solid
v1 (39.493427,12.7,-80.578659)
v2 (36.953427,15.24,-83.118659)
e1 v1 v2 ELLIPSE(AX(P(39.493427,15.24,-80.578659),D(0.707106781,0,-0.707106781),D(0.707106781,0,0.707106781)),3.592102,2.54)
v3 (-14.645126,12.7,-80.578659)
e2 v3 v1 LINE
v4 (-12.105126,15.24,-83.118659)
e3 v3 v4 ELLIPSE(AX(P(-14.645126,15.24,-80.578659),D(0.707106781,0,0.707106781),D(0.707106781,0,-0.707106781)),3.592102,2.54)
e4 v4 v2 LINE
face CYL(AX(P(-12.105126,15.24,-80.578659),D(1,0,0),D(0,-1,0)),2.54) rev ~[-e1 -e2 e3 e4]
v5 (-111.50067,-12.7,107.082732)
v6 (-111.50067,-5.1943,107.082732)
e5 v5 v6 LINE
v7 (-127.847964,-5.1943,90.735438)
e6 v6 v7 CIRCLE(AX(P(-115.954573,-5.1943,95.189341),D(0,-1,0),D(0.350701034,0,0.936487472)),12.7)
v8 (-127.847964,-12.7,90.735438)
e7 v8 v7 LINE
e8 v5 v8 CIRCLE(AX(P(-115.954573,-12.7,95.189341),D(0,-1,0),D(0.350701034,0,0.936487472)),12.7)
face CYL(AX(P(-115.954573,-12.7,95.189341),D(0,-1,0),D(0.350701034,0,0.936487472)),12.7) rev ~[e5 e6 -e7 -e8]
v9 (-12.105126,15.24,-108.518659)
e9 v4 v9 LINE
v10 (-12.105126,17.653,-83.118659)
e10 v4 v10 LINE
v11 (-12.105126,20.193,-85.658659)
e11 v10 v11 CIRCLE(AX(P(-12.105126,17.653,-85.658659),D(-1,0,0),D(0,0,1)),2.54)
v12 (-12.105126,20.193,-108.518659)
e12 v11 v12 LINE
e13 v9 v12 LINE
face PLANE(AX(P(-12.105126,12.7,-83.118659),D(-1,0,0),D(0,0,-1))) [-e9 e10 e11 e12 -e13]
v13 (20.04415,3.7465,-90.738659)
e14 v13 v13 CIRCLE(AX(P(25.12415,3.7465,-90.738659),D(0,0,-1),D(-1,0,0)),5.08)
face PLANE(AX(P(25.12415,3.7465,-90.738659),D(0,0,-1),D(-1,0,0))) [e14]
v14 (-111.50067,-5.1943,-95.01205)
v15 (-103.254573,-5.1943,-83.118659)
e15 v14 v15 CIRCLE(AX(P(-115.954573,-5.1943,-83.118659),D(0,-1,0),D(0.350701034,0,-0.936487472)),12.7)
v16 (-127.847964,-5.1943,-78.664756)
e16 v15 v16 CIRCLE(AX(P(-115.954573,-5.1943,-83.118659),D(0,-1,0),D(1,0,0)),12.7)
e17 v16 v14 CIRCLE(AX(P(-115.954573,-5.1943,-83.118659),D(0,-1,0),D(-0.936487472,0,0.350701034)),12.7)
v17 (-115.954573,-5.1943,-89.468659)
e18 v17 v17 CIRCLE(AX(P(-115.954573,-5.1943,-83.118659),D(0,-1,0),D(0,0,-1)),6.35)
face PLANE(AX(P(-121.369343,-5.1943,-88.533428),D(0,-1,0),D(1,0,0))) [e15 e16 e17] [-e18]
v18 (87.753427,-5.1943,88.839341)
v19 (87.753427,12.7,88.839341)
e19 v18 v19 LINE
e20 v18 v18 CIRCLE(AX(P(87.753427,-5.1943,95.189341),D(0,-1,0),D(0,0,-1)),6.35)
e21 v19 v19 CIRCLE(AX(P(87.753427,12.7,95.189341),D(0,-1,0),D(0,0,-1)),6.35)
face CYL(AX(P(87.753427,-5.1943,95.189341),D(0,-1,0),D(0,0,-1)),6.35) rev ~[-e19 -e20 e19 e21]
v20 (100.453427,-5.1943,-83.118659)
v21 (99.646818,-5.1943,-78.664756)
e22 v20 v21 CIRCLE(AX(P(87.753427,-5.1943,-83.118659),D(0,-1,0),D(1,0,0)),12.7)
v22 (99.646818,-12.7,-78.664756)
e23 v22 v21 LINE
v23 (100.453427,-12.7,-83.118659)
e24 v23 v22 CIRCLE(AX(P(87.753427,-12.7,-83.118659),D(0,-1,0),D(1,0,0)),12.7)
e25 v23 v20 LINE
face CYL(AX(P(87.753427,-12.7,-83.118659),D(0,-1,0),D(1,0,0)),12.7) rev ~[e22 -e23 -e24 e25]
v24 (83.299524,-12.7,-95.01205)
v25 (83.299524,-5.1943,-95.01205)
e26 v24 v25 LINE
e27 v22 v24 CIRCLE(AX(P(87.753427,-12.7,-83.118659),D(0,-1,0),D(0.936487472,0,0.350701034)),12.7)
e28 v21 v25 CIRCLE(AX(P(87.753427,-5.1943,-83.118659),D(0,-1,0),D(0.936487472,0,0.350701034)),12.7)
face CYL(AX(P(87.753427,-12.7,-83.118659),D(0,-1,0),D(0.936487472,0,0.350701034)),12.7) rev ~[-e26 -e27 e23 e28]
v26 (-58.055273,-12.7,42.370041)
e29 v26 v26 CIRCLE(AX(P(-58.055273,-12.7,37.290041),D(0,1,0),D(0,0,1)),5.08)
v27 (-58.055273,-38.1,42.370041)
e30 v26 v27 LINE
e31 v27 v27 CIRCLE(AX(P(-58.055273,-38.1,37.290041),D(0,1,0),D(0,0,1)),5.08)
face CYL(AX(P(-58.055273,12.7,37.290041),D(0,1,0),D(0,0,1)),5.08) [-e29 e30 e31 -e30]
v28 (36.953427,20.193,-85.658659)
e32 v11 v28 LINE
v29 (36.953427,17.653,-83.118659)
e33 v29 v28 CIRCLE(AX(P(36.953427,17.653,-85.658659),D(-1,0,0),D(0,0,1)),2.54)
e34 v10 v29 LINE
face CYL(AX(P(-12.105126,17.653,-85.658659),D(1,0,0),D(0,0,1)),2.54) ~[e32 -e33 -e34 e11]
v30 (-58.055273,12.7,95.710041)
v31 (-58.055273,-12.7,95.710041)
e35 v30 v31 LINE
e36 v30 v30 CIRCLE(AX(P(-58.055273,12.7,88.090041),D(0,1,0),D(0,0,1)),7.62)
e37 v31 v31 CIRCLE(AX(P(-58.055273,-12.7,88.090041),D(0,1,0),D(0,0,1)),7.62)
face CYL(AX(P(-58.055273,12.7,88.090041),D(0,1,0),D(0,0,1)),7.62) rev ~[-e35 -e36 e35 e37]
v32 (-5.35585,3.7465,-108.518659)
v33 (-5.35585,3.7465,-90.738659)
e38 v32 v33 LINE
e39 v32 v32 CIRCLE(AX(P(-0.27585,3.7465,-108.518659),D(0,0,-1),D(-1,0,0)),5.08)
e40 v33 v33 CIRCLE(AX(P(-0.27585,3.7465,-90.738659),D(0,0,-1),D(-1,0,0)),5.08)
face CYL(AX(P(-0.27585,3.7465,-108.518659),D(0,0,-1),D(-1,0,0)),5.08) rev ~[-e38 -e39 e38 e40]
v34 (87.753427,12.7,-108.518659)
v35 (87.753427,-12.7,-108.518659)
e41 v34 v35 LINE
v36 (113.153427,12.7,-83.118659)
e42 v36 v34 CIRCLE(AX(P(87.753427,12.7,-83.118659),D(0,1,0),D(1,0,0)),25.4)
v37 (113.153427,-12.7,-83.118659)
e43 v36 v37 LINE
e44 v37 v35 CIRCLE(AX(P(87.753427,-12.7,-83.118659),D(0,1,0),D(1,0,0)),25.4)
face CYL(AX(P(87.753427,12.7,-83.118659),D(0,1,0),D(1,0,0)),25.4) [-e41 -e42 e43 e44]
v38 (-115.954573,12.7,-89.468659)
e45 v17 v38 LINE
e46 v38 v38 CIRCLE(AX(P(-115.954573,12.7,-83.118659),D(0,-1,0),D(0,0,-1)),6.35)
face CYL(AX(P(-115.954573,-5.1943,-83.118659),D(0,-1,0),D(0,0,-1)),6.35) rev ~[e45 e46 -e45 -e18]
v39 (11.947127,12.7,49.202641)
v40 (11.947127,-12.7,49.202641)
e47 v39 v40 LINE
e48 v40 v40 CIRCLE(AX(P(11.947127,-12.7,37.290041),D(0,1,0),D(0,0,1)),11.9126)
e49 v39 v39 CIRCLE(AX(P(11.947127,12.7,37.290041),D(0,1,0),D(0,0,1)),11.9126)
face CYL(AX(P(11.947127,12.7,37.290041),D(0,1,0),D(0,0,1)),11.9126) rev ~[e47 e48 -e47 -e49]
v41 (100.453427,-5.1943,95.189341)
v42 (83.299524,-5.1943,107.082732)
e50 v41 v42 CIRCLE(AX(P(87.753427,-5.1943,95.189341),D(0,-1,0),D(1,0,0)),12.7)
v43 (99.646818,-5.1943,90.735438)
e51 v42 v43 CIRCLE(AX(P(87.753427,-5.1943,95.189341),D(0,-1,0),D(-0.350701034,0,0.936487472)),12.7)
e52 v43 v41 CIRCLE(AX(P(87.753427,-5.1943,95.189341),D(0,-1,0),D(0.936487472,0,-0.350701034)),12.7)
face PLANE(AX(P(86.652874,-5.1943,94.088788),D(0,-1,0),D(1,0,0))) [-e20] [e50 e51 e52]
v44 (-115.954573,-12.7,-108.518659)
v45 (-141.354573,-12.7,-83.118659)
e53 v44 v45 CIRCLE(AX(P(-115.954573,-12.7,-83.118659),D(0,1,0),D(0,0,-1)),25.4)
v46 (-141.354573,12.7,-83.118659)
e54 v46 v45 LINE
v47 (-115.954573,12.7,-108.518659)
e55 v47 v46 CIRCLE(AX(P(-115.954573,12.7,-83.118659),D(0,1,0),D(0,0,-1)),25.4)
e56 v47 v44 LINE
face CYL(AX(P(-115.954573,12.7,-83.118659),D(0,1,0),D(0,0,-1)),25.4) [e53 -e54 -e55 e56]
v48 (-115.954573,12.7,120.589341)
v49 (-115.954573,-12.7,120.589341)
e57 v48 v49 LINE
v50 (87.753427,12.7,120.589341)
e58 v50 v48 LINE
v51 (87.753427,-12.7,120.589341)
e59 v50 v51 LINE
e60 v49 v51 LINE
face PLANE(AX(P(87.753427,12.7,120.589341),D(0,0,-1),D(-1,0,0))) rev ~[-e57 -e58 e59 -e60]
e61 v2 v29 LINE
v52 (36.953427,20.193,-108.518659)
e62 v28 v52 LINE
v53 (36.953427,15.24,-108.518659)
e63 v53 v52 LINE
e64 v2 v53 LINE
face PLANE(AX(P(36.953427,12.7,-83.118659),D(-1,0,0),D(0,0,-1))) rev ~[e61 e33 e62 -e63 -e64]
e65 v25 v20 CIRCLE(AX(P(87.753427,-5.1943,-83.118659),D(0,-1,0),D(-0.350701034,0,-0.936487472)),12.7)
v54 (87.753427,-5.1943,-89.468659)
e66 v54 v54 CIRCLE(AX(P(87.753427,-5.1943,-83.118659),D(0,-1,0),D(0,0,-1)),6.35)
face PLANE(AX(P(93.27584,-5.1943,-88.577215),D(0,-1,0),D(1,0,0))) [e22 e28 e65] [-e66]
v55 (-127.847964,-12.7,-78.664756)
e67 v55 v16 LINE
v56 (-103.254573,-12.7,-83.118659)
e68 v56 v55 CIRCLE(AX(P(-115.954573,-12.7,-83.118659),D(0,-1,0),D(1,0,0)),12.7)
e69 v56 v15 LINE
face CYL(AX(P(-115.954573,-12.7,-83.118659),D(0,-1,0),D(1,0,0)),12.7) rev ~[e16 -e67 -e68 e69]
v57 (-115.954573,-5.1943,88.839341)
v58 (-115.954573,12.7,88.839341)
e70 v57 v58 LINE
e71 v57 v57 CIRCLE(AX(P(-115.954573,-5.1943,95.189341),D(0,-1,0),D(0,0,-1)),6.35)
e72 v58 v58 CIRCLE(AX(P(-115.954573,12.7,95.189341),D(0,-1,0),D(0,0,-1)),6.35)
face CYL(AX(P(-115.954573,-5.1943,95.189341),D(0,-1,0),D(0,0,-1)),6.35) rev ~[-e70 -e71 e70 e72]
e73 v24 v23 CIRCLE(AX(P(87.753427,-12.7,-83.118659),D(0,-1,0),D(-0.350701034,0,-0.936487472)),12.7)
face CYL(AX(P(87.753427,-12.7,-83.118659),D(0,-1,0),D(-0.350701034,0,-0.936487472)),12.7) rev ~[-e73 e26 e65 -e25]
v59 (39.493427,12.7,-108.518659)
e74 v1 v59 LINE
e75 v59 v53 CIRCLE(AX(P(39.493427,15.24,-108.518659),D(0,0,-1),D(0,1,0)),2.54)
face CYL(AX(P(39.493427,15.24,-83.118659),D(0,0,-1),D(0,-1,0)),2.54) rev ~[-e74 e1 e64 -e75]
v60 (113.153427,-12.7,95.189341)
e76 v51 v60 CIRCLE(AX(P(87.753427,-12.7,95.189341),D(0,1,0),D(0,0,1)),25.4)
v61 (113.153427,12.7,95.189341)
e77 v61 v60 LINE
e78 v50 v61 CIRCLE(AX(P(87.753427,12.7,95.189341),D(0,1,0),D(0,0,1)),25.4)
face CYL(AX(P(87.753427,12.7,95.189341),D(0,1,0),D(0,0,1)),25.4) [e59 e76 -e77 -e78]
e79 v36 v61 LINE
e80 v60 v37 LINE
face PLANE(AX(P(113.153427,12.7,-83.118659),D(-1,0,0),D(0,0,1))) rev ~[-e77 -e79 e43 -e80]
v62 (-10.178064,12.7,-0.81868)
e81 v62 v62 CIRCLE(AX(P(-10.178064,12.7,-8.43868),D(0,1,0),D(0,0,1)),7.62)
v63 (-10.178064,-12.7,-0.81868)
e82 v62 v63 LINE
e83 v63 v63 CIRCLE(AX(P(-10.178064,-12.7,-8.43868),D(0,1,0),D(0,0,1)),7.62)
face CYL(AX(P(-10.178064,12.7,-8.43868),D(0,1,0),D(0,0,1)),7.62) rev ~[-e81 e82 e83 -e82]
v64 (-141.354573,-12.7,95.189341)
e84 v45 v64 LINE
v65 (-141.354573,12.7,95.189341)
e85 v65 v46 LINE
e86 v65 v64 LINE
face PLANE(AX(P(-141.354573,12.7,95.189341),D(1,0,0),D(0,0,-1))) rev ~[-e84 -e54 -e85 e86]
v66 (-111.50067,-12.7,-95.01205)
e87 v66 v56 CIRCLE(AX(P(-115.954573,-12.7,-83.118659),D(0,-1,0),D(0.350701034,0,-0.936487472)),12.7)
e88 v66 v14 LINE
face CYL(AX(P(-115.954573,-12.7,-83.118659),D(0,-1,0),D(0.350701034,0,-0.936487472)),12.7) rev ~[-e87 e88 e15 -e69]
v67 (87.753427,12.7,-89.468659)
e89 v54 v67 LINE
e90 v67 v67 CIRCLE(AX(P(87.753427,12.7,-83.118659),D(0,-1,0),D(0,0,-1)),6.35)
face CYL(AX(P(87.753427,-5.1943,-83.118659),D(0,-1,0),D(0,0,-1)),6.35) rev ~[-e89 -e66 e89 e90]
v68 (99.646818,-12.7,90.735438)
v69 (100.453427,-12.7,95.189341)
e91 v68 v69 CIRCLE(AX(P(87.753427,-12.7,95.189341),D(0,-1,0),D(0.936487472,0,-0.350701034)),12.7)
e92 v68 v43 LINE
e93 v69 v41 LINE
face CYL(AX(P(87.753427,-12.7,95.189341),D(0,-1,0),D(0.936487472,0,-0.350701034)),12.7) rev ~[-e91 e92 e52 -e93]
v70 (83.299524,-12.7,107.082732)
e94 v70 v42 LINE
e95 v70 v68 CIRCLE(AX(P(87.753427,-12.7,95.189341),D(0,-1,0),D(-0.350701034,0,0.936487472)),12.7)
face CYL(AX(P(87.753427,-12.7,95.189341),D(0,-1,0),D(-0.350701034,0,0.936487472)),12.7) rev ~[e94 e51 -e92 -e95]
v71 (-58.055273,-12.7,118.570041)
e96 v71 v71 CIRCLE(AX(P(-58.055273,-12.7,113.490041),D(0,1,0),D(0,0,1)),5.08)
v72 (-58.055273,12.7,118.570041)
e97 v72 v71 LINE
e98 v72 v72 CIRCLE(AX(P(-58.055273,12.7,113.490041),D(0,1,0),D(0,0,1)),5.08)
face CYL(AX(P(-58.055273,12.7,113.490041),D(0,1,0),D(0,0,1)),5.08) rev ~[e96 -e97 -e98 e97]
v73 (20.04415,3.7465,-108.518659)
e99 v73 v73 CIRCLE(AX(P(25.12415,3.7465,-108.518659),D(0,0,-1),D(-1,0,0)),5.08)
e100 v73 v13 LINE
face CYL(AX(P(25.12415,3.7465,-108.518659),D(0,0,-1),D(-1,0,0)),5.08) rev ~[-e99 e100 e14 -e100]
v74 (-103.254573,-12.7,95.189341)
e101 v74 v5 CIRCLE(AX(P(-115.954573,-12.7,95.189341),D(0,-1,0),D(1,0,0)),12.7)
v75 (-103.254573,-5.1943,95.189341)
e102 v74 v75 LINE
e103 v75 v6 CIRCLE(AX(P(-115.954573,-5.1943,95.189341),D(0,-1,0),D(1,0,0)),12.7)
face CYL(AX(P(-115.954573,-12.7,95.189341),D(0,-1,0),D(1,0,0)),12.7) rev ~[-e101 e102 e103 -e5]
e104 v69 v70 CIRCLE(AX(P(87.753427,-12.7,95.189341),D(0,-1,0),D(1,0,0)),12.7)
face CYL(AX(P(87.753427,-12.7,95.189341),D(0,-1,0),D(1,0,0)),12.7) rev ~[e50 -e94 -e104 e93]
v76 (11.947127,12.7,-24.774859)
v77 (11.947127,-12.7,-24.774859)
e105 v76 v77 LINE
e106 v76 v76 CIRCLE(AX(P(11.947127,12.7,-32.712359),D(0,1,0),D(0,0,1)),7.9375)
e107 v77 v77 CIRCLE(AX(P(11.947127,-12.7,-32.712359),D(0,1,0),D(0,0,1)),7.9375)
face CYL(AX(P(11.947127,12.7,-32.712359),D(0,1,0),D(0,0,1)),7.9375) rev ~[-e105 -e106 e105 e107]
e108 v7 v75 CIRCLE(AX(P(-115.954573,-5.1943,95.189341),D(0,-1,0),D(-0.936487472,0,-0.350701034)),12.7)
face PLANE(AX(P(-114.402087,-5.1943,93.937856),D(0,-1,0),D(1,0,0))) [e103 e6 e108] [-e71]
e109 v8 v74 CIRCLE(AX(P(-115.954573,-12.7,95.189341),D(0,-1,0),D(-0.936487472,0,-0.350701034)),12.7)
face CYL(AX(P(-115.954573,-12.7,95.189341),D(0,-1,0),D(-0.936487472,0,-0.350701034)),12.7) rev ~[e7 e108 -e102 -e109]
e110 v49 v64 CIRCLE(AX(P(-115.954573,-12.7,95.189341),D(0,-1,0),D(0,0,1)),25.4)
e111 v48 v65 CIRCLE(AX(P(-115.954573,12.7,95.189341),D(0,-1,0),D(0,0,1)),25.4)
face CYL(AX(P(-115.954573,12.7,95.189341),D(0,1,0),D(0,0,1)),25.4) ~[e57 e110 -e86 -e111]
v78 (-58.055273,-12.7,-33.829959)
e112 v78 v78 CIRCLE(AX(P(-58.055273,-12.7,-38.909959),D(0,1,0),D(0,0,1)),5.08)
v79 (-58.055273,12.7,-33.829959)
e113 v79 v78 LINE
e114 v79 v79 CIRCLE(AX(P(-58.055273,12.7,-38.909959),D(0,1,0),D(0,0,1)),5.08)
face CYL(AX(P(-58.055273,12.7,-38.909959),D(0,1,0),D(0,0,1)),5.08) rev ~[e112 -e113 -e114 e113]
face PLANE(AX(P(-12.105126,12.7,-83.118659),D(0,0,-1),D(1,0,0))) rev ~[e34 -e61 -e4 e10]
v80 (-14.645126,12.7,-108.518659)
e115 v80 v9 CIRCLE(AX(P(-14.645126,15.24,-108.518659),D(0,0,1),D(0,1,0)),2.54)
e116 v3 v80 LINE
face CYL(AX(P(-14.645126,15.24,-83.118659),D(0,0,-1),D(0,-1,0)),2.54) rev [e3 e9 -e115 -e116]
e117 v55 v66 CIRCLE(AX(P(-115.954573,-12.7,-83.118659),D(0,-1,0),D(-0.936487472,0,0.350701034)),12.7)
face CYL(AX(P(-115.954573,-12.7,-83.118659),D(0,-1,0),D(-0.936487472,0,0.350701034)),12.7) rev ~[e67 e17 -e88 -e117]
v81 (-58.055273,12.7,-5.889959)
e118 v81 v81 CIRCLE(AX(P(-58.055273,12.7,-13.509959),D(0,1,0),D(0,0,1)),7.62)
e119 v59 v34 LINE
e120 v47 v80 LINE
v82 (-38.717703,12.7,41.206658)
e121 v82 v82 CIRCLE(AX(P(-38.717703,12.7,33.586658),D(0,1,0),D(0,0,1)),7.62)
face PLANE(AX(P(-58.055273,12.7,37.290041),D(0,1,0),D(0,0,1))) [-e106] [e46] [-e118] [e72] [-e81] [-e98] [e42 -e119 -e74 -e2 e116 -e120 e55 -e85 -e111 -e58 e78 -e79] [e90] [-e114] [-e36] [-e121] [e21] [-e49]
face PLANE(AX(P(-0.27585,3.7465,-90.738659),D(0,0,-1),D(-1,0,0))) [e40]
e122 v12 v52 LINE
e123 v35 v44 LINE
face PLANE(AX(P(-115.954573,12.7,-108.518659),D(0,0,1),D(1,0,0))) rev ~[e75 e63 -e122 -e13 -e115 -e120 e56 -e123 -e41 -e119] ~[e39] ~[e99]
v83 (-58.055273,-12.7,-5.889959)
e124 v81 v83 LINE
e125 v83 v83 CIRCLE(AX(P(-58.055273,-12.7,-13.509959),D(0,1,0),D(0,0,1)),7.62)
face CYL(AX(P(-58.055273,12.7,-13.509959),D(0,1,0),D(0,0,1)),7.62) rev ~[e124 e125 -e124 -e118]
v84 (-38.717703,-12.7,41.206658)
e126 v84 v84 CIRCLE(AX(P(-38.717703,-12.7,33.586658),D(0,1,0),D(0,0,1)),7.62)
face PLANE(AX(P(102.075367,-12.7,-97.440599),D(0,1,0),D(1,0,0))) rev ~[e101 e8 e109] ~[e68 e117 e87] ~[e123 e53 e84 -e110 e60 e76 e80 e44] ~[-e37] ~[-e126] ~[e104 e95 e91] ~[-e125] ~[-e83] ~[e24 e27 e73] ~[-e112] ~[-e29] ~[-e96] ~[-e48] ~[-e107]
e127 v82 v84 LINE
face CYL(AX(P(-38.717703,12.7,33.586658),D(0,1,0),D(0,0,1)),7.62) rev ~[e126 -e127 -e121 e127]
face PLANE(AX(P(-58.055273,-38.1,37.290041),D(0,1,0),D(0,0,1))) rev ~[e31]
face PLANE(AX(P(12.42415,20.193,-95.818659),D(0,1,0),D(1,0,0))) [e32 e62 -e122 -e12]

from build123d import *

# Parameters (mm, degrees)
BOSS_EXTRUDE1_DEPTH = 12.7
SKETCH5_R           = 11.9126
SKETCH5_R_2         = 7.9375
SKETCH5_R_3         = 5.9563
CUT_EXTRUDE3_DEPTH  = 231.35713577
CUT_EXTRUDE4_DEPTH  = 231.35713577
CUT_EXTRUDE5_DEPTH  = 7.5057
SKETCH8_R           = 6.35
CUT_EXTRUDE6_DEPTH  = 187.663093698
BOSS_EXTRUDE2_DEPTH = 25.4
SKETCH10_W          = 49.05855317
SKETCH10_H          = 25.4
BOSS_EXTRUDE3_DEPTH = 7.493
FILLET1_R           = 2.54
SKETCH11_R          = 5.08
CUT_EXTRUDE7_DEPTH  = 17.78
SKETCH12_R          = 7.62
CUT_EXTRUDE8_DEPTH  = 188.531502891
SKETCH14_R          = 5.08
BOSS_EXTRUDE4_DEPTH = 50.8
SKETCH16_R          = 7.62
CUT_EXTRUDE10_DEPTH = 193.622803885
SKETCH17_R          = 5.08
CUT_EXTRUDE11_DEPTH = 193.622803885


with BuildPart() as part:
    # Sketch2 → Boss-Extrude1 (new, symmetric)
    with BuildSketch(Plane(origin=(0, 0, 0), x_dir=(1, 0, 0), z_dir=(0, 1, 0))):
        Polygon((114.3, 127), (190.5, 76.2), (190.5, -76.2), (114.3, -127), (-114.3, -127), (-190.5, -76.2), (-190.5, 76.2), (-114.3, 127), align=None)
    extrude(amount=BOSS_EXTRUDE1_DEPTH, both=True)

    # Sketch5 → Cut-Extrude3 (cut, through all)
    # profile 1 of 3: a face of its own
    with BuildSketch(Plane(origin=(0, 12.7, 0), x_dir=(1, 0, 0), z_dir=(0, 1, 0))):
        with Locations(Location((11.947126713, -37.290041101, 0), (0, 0, 270))):
            Circle(SKETCH5_R)
    # profile 2 of 3: a face of its own
    with BuildSketch(Plane(origin=(0, 12.7, 0), x_dir=(1, 0, 0), z_dir=(0, 1, 0))):
        with Locations(Location((11.947126713, 32.712358899, 0), (0, 0, 270))):
            Circle(SKETCH5_R_2)
        with Locations((11.947126713, 32.712358899)):
            Circle(SKETCH5_R_3, mode=Mode.SUBTRACT)
    # profile 3 of 3: a face of its own
    with BuildSketch(Plane(origin=(0, 12.7, 0), x_dir=(1, 0, 0), z_dir=(0, 1, 0))):
        with Locations((11.947126713, 32.712358899)):
            Circle(SKETCH5_R_3)
    extrude(amount=-CUT_EXTRUDE3_DEPTH, mode=Mode.SUBTRACT)

    # Sketch6 → Cut-Extrude4 (cut, through all)
    with BuildSketch(Plane(origin=(0, 12.7, 0), x_dir=(1, 0, 0), z_dir=(0, 1, 0))):
        Polygon((-114.3, -127), (114.3, -127), (190.5, -76.2), (190.5, 76.2), (114.3, 127), (-114.3, 127), (-190.5, 76.2), (-190.5, -76.2), align=None)
        Polygon((-141.354573287, 83.118658899), (-115.954573287, 108.518658899), (87.753426713, 108.518658899), (113.153426713, 83.118658899), (113.153426713, -95.189341101), (87.753426713, -120.589341101), (-115.954573287, -120.589341101), (-141.354573287, -95.189341101), align=None, mode=Mode.SUBTRACT)
    extrude(amount=-CUT_EXTRUDE4_DEPTH, mode=Mode.SUBTRACT)

    # Sketch7 → Cut-Extrude5 (cut)
    with BuildSketch(Plane.XZ.offset(12.7)):
        with BuildLine():
            ThreePointArc((83.29952358, 107.082731992), (78.773170592, 86.20908498), (99.646817604, 90.735437968))
            Line((99.646817604, 90.735437968), (83.29952358, 107.082731992))
        make_face()
        with BuildLine():
            Line((83.29952358, 107.082731992), (99.646817604, 90.735437968))
            ThreePointArc((99.646817604, 90.735437968), (100.250147569, 92.926164607), (100.453426713, 95.189341101))
            ThreePointArc((100.453426713, 95.189341101), (94.989635327, 105.626164607), (83.29952358, 107.082731992))
        make_face()
        with BuildLine():
            ThreePointArc((-103.254573287, 95.189341101), (-105.517749781, 102.425549715), (-111.500670154, 107.082731992))
            Line((-111.500670154, 107.082731992), (-127.847964178, 90.735437968))
            ThreePointArc((-127.847964178, 90.735437968), (-113.691396793, 82.692620245), (-103.254573287, 95.189341101))
        make_face()
        with BuildLine():
            Line((-127.847964178, 90.735437968), (-111.500670154, 107.082731992))
            ThreePointArc((-111.500670154, 107.082731992), (-124.934829408, 104.169597223), (-127.847964178, 90.735437968))
        make_face()
        with BuildLine():
            ThreePointArc((100.453426713, -83.118658899), (100.250147569, -80.855482405), (99.646817604, -78.664755766))
            Line((99.646817604, -78.664755766), (83.29952358, -95.012049789))
            ThreePointArc((83.29952358, -95.012049789), (94.989635327, -93.555482405), (100.453426713, -83.118658899))
        make_face()
        with BuildLine():
            Line((83.29952358, -95.012049789), (99.646817604, -78.664755766))
            ThreePointArc((99.646817604, -78.664755766), (78.773170592, -74.138402777), (83.29952358, -95.012049789))
        make_face()
        with BuildLine():
            ThreePointArc((-127.847964178, -78.664755766), (-124.934829408, -92.09891502), (-111.500670154, -95.012049789))
            Line((-111.500670154, -95.012049789), (-127.847964178, -78.664755766))
        make_face()
        with BuildLine():
            Line((-127.847964178, -78.664755766), (-111.500670154, -95.012049789))
            ThreePointArc((-111.500670154, -95.012049789), (-105.517749781, -90.354867513), (-103.254573287, -83.118658899))
            ThreePointArc((-103.254573287, -83.118658899), (-113.691396793, -70.621938042), (-127.847964178, -78.664755766))
        make_face()
    extrude(amount=-CUT_EXTRUDE5_DEPTH, mode=Mode.SUBTRACT)

    # Sketch8 → Cut-Extrude6 (cut, through all)
    with BuildSketch(Plane.XZ.offset(5.1943)):
        with Locations(Location((-115.954573287, 95.189341101, 0), (0, 0, 270))):
            Circle(SKETCH8_R)
        with Locations(Location((87.753426713, 95.189341101, 0), (0, 0, 270))):
            Circle(SKETCH8_R)
        with Locations(Location((87.753426713, -83.118658899, 0), (0, 0, 270))):
            Circle(SKETCH8_R)
        with Locations(Location((-115.954573287, -83.118658899, 0), (0, 0, 270))):
            Circle(SKETCH8_R)
    extrude(amount=-CUT_EXTRUDE6_DEPTH, mode=Mode.SUBTRACT)

    # Sketch9 → Boss-Extrude2 (add)
    with BuildSketch(Plane(origin=(0, 12.7, 0), x_dir=(1, 0, 0), z_dir=(0, 1, 0))):
        with BuildLine():
            ThreePointArc((113.153426713, 83.118658899), (105.713938955, 101.079171141), (87.753426713, 108.518658899))
            Line((87.753426713, 108.518658899), (113.153426713, 83.118658899))
        make_face()
        with BuildLine():
            ThreePointArc((-115.954573287, 108.518658899), (-133.915085529, 101.079171141), (-141.354573287, 83.118658899))
            Line((-141.354573287, 83.118658899), (-115.954573287, 108.518658899))
        make_face()
        with BuildLine():
            ThreePointArc((-115.954573287, -120.589341101), (-133.915085529, -113.149853344), (-141.354573287, -95.189341101))
            Line((-141.354573287, -95.189341101), (-115.954573287, -120.589341101))
        make_face()
        with BuildLine():
            ThreePointArc((87.753426713, -120.589341101), (105.713938955, -113.149853344), (113.153426713, -95.189341101))
            Line((113.153426713, -95.189341101), (87.753426713, -120.589341101))
        make_face()
    extrude(amount=-BOSS_EXTRUDE2_DEPTH)

    # Sketch10 → Boss-Extrude3 (add)
    with BuildSketch(Plane(origin=(0, 12.7, 0), x_dir=(1, 0, 0), z_dir=(0, 1, 0))):
        with Locations((12.424150128, 95.818658899)):
            Rectangle(SKETCH10_W, SKETCH10_H)
    extrude(amount=BOSS_EXTRUDE3_DEPTH)

    # Fillet1
    fillet1_edges = [part.edges().sort_by_distance(p)[0] for p in [
        (-12.105126457, 12.7, -95.818658899),
        (12.424150128, 12.7, -83.118658899),
        (12.424150128, 20.193, -83.118658899),
        (36.953426713, 12.7, -95.818658899),
    ]]
    fillet(fillet1_edges, radius=FILLET1_R)

    # Sketch11 → Cut-Extrude7 (cut)
    with BuildSketch(Plane(origin=(0, 0, -108.518658899), x_dir=(-1, 0, 0), z_dir=(0, 0, -1))):
        with Locations((0.275849872, 3.7465)):
            Circle(SKETCH11_R)
        with Locations((-25.124150128, 3.7465)):
            Circle(SKETCH11_R)
    extrude(amount=-CUT_EXTRUDE7_DEPTH, mode=Mode.SUBTRACT)

    # Sketch12 → Cut-Extrude8 (cut, through all)
    with BuildSketch(Plane(origin=(0, 12.7, 0), x_dir=(1, 0, 0), z_dir=(0, 1, 0))):
        with Locations(Location((-10.178064282, 8.438679889, 0), (0, 0, 270))):
            Circle(SKETCH12_R)
        with Locations(Location((-38.717702845, -33.586658072, 0), (0, 0, 270))):
            Circle(SKETCH12_R)
    extrude(amount=-CUT_EXTRUDE8_DEPTH, mode=Mode.SUBTRACT)

    # Sketch14 → Boss-Extrude4 (add)
    with BuildSketch(Plane(origin=(0, 12.7, 0), x_dir=(1, 0, 0), z_dir=(0, 1, 0))):
        with Locations(Location((-58.055273287, -37.290041101, 0), (0, 0, 270))):
            Circle(SKETCH14_R)
    extrude(amount=-BOSS_EXTRUDE4_DEPTH)

    # Sketch16 → Cut-Extrude10 (cut, through all)
    with BuildSketch(Plane(origin=(0, 12.7, 0), x_dir=(1, 0, 0), z_dir=(0, 1, 0))):
        with Locations(Location((-58.055273287, 13.509958899, 0), (0, 0, 270))):
            Circle(SKETCH16_R)
        with Locations(Location((-58.055273287, -88.090041101, 0), (0, 0, 270))):
            Circle(SKETCH16_R)
    extrude(amount=-CUT_EXTRUDE10_DEPTH, mode=Mode.SUBTRACT)

    # Sketch17 → Cut-Extrude11 (cut, through all)
    with BuildSketch(Plane(origin=(0, 12.7, 0), x_dir=(1, 0, 0), z_dir=(0, 1, 0))):
        with Locations(Location((-58.055273287, 38.909958899, 0), (0, 0, 270))):
            Circle(SKETCH17_R)
        with Locations(Location((-58.055273287, -113.490041101, 0), (0, 0, 270))):
            Circle(SKETCH17_R)
    extrude(amount=-CUT_EXTRUDE11_DEPTH, mode=Mode.SUBTRACT)


solid = part.part
